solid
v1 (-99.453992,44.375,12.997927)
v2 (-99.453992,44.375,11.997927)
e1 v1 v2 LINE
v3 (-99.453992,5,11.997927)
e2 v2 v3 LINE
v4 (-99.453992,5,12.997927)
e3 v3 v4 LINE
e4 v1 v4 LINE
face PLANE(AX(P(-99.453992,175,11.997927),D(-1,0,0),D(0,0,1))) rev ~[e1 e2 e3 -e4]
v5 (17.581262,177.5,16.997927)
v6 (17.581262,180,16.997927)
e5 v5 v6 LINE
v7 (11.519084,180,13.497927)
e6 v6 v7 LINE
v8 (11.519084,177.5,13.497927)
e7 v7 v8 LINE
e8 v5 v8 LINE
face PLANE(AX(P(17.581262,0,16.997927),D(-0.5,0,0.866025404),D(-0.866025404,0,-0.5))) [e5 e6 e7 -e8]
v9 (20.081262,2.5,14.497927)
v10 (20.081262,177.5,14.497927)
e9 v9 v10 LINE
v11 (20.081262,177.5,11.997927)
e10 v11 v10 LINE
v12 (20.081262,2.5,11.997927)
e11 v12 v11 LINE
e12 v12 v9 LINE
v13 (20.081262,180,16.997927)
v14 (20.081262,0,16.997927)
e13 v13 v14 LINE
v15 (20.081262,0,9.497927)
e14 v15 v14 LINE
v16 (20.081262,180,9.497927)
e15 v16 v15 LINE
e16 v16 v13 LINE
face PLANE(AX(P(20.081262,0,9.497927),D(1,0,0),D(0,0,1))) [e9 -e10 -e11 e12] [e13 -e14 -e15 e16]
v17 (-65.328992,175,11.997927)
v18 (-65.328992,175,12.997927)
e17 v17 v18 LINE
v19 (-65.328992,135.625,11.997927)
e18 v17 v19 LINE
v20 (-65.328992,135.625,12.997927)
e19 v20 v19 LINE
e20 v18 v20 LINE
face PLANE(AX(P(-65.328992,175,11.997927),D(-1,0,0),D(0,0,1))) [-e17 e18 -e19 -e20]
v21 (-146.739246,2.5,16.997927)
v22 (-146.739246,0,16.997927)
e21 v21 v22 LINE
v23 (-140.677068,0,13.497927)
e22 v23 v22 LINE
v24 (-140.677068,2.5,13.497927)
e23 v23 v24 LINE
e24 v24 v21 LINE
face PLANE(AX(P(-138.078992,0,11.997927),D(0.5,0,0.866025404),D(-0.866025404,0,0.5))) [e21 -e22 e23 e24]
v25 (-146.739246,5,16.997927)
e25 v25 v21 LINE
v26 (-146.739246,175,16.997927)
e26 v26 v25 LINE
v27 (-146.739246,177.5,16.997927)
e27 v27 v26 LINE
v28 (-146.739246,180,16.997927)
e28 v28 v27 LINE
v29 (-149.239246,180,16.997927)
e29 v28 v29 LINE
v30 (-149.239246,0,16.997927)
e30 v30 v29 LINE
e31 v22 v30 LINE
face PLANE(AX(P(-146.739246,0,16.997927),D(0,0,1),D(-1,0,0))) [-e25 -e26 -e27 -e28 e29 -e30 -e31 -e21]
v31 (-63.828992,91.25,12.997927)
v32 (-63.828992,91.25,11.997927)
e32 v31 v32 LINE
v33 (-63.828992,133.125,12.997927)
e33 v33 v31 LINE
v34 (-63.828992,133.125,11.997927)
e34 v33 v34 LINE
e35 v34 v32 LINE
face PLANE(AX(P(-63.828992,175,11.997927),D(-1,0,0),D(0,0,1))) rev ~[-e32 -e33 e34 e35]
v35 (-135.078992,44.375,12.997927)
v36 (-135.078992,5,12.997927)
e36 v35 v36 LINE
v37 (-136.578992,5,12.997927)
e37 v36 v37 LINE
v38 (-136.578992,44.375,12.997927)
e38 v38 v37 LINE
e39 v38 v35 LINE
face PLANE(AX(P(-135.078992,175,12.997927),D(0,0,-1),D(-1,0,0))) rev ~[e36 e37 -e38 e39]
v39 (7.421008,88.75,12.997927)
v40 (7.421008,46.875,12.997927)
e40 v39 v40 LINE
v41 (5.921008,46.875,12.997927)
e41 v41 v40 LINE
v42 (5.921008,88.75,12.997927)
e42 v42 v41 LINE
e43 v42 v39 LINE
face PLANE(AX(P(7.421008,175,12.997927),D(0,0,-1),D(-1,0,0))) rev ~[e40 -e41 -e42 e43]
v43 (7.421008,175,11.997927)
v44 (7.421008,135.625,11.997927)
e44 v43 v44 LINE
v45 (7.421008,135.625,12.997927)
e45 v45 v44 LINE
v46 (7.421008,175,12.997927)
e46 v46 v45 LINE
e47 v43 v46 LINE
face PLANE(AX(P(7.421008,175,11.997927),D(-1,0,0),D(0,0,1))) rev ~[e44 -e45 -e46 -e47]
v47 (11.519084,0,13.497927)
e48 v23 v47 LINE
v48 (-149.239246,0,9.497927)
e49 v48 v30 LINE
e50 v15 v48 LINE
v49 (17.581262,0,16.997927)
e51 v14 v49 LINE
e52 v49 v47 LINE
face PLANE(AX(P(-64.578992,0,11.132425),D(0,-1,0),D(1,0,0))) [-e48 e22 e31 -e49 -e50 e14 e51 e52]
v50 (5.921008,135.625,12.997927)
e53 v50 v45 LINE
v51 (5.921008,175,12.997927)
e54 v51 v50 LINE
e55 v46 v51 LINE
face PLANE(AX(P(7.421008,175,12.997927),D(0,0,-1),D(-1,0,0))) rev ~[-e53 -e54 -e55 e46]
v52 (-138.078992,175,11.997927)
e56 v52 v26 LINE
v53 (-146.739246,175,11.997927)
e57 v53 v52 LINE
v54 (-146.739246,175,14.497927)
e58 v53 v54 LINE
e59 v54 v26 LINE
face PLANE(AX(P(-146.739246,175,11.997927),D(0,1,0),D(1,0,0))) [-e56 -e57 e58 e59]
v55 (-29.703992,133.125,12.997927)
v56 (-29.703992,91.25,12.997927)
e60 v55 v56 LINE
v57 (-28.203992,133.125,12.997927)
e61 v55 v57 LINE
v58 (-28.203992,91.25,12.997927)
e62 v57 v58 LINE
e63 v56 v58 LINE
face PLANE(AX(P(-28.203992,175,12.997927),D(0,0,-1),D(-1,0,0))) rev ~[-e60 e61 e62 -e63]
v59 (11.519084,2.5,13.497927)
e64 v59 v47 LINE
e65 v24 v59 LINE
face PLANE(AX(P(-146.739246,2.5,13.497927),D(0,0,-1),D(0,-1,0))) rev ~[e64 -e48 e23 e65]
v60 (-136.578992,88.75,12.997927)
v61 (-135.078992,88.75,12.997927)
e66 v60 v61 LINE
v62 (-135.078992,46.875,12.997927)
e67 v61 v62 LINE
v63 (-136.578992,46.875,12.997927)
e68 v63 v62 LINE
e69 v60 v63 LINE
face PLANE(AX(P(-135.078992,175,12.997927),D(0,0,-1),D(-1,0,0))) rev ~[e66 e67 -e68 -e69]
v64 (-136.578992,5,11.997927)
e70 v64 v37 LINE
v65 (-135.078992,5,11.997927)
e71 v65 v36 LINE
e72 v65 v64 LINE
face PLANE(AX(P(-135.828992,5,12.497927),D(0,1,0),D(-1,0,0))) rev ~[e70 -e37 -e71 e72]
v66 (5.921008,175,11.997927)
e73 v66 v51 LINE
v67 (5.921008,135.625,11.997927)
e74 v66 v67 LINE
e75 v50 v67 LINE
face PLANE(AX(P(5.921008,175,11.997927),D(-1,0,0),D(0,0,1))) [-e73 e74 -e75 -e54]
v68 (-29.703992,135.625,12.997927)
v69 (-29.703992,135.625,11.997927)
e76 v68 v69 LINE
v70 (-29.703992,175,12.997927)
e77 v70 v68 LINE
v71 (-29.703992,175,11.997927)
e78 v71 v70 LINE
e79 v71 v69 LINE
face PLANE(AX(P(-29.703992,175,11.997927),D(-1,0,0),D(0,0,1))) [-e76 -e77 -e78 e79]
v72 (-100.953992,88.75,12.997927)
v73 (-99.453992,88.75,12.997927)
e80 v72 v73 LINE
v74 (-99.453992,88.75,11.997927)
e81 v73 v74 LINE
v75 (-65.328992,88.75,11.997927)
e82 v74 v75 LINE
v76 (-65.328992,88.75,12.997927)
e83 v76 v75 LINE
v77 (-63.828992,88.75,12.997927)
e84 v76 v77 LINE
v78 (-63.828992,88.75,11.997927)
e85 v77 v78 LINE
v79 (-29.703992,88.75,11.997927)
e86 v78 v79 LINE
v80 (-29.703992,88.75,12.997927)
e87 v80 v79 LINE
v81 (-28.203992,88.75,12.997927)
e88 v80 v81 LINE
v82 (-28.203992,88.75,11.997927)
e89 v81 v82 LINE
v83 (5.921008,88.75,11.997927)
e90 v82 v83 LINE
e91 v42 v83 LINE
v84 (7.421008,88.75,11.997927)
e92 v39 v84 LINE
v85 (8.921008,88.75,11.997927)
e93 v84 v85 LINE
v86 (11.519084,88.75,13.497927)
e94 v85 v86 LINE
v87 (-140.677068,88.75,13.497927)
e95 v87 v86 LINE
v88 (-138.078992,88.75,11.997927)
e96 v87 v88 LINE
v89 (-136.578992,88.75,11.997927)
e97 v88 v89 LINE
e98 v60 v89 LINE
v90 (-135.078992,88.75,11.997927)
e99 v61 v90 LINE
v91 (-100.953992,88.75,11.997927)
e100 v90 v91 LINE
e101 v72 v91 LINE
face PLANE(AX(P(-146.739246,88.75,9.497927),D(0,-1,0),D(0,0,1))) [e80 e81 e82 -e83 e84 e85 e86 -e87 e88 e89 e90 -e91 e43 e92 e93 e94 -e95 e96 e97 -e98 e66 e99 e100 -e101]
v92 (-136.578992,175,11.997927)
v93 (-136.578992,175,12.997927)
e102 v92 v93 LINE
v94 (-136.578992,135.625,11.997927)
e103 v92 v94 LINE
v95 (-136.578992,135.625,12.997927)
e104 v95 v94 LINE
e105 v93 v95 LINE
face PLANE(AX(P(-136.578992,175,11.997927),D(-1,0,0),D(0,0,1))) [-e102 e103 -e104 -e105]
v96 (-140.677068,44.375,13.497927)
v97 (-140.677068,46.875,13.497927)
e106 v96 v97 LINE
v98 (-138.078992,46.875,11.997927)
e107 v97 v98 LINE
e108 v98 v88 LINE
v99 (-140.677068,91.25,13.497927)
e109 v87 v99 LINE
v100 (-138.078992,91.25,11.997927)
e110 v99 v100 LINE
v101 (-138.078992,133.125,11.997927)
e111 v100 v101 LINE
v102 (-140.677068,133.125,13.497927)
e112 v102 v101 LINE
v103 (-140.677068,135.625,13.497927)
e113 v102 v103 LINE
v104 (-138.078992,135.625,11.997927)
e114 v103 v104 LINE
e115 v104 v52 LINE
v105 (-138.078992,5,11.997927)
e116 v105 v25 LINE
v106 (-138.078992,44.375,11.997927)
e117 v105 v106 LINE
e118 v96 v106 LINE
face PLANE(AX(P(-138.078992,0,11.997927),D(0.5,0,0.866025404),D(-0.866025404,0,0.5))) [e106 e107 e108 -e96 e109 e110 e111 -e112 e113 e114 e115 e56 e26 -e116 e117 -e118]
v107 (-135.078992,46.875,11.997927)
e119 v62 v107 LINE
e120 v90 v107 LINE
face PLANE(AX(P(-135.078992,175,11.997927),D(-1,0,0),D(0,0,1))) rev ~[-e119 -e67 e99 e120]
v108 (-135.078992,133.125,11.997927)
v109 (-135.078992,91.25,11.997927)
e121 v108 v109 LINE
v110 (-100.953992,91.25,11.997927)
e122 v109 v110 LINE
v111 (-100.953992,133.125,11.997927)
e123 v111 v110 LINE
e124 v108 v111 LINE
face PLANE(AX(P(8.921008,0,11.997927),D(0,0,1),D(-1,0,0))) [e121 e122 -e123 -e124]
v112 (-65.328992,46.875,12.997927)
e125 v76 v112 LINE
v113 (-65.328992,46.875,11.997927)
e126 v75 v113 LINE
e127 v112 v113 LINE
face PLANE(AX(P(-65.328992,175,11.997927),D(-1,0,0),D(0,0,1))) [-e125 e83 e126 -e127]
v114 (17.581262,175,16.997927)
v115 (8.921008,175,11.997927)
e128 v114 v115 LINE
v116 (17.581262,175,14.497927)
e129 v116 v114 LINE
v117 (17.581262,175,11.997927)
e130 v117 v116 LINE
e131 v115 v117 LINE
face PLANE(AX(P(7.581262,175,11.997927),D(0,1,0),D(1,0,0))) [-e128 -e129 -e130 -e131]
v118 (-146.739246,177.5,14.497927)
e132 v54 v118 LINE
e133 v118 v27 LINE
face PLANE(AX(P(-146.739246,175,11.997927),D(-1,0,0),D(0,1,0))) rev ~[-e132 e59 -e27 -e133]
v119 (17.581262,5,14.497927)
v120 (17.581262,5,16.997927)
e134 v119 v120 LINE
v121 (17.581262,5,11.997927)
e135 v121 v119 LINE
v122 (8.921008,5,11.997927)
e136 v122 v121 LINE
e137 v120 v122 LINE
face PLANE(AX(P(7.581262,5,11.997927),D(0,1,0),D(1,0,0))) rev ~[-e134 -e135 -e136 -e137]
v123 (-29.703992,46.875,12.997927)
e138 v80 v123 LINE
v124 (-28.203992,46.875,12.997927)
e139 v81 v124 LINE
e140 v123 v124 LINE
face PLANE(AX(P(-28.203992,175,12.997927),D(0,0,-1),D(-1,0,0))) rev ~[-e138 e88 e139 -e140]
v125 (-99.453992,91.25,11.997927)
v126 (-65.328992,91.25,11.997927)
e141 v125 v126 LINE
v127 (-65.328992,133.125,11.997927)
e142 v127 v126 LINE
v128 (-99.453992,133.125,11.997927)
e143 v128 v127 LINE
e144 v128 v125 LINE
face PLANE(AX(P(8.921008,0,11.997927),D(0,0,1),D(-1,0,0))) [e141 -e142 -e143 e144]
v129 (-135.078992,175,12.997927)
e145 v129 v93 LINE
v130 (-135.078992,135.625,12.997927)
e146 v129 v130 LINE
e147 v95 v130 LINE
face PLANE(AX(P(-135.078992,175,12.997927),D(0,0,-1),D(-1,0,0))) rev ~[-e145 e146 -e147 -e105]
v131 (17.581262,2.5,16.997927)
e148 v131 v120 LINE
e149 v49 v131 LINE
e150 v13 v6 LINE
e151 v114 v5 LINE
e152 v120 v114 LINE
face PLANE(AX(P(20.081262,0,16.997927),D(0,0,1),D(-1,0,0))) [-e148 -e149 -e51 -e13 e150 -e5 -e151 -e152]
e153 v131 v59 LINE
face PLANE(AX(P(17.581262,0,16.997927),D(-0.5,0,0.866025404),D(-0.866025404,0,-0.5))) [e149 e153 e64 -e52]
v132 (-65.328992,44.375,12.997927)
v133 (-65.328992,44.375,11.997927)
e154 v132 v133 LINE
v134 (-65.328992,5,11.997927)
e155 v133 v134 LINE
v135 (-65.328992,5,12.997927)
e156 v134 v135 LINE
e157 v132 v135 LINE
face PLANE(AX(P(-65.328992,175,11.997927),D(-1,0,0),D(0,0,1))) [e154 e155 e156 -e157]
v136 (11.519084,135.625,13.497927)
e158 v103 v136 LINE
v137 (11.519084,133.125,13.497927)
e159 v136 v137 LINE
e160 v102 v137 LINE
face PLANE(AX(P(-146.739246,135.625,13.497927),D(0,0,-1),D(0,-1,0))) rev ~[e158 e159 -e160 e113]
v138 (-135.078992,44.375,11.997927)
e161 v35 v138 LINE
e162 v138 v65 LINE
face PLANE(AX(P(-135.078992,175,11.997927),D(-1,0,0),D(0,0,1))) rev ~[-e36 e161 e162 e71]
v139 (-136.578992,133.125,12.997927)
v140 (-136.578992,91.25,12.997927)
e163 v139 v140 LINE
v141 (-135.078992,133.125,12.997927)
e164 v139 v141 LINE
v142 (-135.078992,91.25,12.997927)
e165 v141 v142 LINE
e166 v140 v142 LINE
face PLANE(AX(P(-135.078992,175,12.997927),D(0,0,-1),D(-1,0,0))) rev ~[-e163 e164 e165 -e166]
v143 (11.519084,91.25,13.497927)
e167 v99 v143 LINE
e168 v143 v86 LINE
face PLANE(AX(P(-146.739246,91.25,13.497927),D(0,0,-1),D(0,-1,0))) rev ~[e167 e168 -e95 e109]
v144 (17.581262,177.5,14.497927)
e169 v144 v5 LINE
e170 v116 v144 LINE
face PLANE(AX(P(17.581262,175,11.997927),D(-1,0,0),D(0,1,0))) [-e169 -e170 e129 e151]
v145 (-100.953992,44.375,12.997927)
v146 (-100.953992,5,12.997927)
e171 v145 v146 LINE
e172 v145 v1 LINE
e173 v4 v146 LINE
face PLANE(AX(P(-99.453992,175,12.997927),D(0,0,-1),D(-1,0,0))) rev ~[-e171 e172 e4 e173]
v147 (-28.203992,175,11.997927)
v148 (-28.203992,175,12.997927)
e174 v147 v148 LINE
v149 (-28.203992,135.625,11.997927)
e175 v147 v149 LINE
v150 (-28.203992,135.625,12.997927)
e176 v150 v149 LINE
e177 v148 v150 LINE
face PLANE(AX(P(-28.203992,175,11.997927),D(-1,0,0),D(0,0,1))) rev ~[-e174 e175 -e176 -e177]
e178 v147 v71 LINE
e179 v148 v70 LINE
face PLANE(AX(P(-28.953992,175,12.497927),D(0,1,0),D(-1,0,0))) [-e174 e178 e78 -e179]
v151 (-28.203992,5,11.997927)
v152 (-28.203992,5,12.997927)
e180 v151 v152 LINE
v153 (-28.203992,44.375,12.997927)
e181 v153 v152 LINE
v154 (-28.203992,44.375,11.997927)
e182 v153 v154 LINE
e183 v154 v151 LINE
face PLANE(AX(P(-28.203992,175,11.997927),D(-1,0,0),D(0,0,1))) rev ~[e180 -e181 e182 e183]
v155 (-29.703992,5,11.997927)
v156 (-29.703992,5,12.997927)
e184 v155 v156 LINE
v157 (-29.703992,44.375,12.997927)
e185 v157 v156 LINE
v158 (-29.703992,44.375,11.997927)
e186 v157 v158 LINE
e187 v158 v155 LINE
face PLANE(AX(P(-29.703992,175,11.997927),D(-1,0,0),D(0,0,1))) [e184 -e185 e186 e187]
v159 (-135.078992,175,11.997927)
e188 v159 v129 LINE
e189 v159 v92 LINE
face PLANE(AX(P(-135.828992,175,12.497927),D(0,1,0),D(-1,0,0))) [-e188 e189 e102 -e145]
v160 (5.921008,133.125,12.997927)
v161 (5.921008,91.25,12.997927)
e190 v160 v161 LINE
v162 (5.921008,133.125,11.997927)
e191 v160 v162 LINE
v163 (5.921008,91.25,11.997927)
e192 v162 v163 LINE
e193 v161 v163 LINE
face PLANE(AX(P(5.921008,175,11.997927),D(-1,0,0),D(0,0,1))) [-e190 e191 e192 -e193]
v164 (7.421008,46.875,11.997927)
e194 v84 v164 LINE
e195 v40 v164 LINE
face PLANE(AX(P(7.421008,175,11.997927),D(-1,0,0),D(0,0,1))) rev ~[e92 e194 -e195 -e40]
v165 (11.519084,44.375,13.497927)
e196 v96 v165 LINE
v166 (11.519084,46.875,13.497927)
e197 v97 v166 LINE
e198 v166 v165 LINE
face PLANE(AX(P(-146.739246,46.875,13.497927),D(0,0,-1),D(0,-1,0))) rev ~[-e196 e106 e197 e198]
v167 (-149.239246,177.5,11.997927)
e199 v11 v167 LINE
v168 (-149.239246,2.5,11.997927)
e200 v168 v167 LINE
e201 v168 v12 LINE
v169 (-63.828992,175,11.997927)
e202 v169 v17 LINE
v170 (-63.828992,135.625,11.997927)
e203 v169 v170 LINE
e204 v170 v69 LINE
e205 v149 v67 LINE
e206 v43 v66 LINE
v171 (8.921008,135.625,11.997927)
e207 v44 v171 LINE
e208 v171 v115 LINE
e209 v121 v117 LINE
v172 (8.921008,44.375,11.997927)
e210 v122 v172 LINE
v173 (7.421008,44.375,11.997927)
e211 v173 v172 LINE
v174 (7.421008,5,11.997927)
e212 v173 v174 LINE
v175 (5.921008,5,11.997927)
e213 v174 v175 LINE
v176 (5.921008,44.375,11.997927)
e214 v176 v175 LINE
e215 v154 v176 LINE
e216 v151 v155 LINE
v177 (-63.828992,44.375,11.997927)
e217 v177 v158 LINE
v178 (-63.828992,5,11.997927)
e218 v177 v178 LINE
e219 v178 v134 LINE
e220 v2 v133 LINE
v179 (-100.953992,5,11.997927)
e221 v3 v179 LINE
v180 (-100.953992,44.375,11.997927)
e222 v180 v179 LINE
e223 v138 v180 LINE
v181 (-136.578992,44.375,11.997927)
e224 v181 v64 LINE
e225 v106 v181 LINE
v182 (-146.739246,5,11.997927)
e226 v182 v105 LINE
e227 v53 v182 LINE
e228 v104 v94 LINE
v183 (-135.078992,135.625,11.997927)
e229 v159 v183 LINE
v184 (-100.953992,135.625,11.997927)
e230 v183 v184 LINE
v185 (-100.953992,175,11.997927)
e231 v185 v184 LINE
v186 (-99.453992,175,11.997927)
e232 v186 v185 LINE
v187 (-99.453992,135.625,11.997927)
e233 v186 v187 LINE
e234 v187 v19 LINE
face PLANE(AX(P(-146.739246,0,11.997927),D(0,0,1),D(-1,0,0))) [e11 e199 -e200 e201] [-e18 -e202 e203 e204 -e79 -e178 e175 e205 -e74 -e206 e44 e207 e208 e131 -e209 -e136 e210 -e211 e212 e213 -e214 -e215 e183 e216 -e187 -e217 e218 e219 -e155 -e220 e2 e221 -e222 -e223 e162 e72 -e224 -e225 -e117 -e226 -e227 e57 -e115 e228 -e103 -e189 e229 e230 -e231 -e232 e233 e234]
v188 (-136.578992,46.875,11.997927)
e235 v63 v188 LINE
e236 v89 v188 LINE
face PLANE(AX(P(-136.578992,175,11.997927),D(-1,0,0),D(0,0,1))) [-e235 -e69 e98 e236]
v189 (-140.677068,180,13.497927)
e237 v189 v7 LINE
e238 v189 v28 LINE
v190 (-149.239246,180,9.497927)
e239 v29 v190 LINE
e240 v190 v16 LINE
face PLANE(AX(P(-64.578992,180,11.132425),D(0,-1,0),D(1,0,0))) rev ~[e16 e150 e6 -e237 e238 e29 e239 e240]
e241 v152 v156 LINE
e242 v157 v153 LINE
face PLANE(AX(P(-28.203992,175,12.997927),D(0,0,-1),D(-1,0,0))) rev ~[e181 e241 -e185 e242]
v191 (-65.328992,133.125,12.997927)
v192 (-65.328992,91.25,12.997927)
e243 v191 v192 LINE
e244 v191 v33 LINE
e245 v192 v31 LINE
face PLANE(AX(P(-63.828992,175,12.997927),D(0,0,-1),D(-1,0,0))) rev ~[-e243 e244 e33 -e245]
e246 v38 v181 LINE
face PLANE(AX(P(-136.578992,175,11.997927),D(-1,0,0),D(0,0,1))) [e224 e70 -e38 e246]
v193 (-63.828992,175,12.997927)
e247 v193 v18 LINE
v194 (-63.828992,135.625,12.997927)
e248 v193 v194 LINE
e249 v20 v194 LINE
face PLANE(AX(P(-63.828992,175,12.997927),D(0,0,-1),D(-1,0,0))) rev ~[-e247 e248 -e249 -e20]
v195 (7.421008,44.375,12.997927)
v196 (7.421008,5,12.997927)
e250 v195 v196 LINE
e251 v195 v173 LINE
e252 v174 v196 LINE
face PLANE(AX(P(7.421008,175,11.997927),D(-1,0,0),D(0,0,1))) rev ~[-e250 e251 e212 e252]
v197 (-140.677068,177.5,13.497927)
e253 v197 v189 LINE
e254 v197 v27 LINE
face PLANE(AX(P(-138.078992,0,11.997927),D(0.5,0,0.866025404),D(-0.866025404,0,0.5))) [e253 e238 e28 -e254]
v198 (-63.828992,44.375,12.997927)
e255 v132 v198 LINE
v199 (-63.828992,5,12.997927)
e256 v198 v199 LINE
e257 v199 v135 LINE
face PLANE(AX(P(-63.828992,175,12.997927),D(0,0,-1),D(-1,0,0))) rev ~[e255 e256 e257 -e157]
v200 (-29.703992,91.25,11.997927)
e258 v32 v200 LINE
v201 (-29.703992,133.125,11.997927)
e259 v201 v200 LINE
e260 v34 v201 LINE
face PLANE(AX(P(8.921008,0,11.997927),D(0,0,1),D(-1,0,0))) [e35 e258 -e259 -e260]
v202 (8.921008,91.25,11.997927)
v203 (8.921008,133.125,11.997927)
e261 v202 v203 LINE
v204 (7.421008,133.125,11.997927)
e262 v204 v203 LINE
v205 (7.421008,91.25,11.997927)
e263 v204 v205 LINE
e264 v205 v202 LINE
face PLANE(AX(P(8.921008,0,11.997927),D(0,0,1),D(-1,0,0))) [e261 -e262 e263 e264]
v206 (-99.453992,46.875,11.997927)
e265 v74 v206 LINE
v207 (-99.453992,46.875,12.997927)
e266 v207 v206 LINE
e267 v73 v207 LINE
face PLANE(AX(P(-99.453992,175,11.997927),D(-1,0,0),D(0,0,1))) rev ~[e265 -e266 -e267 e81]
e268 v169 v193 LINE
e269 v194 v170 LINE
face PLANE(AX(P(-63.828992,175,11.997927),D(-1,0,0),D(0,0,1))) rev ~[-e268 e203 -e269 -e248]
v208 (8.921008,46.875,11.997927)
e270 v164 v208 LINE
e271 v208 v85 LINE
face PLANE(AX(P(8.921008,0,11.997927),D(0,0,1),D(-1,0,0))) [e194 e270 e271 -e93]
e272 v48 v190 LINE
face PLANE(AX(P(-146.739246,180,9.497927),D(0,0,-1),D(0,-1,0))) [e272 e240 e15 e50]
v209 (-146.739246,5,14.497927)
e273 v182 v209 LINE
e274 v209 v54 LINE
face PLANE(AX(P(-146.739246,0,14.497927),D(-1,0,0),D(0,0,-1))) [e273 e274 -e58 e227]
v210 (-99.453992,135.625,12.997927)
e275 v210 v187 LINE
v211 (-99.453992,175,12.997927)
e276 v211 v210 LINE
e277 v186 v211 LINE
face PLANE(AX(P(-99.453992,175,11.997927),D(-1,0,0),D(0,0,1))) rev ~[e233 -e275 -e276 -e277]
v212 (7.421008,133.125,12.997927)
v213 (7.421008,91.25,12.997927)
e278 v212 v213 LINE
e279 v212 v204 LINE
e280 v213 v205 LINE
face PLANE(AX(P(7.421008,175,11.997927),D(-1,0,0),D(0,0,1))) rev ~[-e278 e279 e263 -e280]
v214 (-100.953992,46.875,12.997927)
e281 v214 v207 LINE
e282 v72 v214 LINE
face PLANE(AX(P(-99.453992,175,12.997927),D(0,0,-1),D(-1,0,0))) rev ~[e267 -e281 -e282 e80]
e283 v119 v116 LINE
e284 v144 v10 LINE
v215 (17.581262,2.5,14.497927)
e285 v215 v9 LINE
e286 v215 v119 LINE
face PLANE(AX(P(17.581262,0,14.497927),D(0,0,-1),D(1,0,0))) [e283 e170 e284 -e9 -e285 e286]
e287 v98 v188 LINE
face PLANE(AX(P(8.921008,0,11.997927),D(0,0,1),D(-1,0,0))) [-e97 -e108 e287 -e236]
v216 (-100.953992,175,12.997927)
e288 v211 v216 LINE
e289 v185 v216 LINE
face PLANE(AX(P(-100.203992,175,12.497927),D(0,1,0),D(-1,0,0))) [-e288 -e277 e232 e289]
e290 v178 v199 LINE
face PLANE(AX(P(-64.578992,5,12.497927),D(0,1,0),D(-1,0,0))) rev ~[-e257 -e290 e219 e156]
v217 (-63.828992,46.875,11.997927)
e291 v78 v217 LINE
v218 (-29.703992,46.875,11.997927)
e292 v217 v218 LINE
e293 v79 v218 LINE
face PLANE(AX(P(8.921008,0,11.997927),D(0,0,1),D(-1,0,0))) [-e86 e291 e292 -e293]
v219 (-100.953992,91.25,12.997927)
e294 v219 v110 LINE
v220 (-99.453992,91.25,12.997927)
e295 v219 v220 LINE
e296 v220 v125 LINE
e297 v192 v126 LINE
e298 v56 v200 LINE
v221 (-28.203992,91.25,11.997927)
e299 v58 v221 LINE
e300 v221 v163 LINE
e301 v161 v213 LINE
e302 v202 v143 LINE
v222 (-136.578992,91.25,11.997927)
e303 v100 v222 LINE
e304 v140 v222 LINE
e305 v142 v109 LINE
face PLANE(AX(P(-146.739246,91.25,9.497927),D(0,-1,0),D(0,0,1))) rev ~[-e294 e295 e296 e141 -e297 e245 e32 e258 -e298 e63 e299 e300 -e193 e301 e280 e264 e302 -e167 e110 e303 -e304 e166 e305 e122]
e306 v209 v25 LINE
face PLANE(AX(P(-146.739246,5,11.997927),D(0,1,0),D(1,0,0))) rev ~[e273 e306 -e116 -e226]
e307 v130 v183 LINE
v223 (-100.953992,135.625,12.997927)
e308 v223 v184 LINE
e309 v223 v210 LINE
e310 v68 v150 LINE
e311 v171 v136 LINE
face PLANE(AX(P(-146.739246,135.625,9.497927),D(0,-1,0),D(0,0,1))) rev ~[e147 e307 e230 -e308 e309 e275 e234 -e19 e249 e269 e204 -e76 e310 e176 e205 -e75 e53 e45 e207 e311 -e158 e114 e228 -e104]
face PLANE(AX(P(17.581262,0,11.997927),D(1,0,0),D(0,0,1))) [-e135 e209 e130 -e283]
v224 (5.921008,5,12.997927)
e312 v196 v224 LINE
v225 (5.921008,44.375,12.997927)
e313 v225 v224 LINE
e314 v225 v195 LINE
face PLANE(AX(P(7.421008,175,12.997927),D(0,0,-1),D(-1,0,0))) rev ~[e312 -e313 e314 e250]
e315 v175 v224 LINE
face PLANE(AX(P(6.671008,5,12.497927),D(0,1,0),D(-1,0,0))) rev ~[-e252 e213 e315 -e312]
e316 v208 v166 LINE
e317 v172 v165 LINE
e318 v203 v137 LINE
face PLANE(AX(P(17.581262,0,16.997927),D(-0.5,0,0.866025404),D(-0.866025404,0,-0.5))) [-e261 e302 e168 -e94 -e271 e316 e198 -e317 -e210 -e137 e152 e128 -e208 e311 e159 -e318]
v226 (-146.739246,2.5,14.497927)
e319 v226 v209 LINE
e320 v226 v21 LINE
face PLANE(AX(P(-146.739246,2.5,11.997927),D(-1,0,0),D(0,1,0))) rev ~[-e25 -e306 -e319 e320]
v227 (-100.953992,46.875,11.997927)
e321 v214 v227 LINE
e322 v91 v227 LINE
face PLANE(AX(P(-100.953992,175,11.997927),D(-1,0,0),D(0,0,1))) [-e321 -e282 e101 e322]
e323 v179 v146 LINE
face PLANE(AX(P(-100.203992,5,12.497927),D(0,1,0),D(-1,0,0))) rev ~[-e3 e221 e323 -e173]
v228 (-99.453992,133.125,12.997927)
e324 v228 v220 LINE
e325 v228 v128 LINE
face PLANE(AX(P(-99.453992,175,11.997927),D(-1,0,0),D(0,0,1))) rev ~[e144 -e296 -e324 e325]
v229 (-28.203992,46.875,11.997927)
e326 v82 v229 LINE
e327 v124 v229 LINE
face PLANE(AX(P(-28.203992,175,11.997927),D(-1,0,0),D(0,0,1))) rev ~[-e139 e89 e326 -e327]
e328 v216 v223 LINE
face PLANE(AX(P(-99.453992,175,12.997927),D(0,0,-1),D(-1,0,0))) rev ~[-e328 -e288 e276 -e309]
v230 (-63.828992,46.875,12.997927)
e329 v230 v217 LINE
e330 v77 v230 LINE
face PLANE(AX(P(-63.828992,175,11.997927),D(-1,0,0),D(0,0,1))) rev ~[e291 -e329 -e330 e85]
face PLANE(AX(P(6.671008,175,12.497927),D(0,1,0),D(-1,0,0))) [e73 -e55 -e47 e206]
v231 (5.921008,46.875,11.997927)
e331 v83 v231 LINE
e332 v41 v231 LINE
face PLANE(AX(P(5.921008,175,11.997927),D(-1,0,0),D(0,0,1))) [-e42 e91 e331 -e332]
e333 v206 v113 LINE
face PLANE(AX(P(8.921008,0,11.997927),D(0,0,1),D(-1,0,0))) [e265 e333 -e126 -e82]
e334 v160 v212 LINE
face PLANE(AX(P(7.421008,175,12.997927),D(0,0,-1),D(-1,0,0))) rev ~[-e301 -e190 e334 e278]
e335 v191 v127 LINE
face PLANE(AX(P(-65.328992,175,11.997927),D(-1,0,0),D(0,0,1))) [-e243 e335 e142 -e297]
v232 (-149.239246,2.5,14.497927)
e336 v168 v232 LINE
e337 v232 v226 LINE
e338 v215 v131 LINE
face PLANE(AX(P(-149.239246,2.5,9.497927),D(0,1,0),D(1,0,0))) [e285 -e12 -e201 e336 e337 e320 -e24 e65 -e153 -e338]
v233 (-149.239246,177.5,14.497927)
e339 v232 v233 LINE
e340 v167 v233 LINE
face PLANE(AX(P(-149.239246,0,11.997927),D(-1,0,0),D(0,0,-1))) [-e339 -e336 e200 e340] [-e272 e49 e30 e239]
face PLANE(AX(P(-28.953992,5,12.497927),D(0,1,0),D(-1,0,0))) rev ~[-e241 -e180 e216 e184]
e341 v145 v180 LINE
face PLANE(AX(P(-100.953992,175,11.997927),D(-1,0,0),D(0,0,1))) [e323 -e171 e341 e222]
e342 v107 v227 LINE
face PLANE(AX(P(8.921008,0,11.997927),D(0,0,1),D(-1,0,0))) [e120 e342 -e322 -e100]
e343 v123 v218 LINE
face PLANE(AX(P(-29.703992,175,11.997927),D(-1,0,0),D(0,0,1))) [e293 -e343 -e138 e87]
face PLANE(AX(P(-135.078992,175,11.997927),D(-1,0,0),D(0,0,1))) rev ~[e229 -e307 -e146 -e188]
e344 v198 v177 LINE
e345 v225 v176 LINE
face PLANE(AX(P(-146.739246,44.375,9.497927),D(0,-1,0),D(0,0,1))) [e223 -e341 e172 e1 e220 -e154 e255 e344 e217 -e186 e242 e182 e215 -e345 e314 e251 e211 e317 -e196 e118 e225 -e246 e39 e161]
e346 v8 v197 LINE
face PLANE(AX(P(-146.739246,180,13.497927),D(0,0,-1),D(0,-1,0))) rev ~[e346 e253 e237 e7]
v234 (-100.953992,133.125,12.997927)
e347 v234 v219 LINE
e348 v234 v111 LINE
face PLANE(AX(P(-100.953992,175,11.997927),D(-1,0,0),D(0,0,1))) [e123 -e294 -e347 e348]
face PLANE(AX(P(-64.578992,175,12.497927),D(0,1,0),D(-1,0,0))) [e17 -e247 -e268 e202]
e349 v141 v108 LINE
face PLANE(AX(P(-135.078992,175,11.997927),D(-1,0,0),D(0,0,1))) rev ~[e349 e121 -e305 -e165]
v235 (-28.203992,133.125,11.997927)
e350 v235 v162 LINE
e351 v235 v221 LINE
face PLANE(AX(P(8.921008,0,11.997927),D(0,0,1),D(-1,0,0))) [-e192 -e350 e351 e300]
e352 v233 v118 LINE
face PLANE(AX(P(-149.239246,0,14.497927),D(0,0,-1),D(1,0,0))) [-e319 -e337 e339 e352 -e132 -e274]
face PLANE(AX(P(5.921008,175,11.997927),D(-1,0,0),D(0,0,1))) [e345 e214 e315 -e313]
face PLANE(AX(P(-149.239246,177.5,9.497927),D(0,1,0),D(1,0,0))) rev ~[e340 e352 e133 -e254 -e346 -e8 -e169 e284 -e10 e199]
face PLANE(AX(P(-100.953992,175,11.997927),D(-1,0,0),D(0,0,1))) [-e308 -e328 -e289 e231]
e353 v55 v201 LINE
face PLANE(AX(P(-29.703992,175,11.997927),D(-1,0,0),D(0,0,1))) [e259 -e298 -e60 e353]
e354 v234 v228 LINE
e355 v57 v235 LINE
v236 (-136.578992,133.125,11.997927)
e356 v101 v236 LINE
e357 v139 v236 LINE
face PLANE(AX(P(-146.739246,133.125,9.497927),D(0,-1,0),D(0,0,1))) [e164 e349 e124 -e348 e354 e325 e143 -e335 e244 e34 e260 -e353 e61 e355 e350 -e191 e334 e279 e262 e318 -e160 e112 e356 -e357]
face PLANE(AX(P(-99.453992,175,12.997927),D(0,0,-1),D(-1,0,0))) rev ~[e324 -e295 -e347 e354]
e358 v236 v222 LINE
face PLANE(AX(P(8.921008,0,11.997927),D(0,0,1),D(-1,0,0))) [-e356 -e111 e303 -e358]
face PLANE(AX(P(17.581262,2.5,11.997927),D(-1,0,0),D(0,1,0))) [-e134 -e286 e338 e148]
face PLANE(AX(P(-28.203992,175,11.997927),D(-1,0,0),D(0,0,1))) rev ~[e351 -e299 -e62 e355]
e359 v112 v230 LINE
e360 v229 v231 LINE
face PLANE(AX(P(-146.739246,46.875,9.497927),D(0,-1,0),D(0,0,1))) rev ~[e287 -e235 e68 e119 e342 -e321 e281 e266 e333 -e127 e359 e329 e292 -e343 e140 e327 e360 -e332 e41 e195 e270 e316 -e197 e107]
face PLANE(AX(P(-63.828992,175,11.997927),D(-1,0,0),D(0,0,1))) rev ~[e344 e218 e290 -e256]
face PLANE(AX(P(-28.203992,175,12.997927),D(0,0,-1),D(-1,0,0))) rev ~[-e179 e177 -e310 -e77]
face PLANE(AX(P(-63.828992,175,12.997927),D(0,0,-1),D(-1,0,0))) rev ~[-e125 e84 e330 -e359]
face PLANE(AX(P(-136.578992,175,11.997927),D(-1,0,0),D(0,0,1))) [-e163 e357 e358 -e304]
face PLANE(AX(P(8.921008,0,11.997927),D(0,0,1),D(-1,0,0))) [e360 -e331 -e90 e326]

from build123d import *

# Parameters (mm, degrees)
F1_DEPTH  = 180
F4_W      = 2.5
F4_H      = 4
F5_DEPTH  = 164
F6_W      = 2.5
F6_H      = 2.5
F7_DEPTH  = 7.5
F8_W      = 10
F8_H      = 2.5
F9_DEPTH  = 25
F10_W     = 1.5
F10_H     = 1
F11_DEPTH = 170


with BuildPart() as f1:
    # F0 (on Front) → F1 (new body)
    with BuildSketch(Plane.XZ):
        Polygon((-149.2392462472, 9.4979269803), (-64.5789922093, 9.4979269803), (20.0812618285, 9.4979269803), (20.0812618285, 11.9979269803), (17.5812618285, 11.9979269803), (17.5812618285, 14.4979269803), (20.0812618285, 14.4979269803), (20.0812618285, 16.9979269803), (17.5812618285, 16.9979269803), (8.9210077907, 11.9979269803), (-64.5789922093, 11.9979269803), (-138.0789922093, 11.9979269803), (-146.7392462472, 16.9979269803), (-149.2392462472, 16.9979269803), (-149.2392462472, 14.4979269803), (-146.7392462472, 14.4979269803), (-146.7392462472, 11.9979269803), (-149.2392462472, 11.9979269803), align=None)
    extrude(amount=-F1_DEPTH)

    # F4 (on offset) → F5 (join)
    with BuildSketch(Plane(origin=(-146.7392462472, 0, 0), x_dir=(0, -1, 0), z_dir=(-1, 0, 0))):
        with Locations((-178.75, 11.4979269803)):
            Rectangle(F4_W, F4_H)
        with Locations((-134.375, 11.4979269803)):
            Rectangle(F4_W, F4_H)
        with Locations((-90, 11.4979269803)):
            Rectangle(F4_W, F4_H)
        with Locations((-45.625, 11.4979269803)):
            Rectangle(F4_W, F4_H)
        with Locations((-1.25, 11.4979269803)):
            Rectangle(F4_W, F4_H)
    extrude(amount=-F5_DEPTH)

    # F6 (on face) → F7 (join)
    with BuildSketch(Plane(origin=(0, 0, 9.4979269803), x_dir=(1, 0, 0), z_dir=(0, 0, -1))):
        with Locations((-147.9892462472, -1.25)):
            Rectangle(F6_W, F6_H)
        with Locations((18.8312618285, -1.25)):
            Rectangle(F6_W, F6_H)
        with Locations((18.8312618285, -178.75)):
            Rectangle(F6_W, F6_H)
        with Locations((-147.9892462472, -178.75)):
            Rectangle(F6_W, F6_H)
    extrude(amount=-F7_DEPTH)

    # F8 (on face) → F9 (cut)
    with BuildSketch(Plane.XY.offset(11.9979269803)):
        with Locations((-141.7392462472, 3.75)):
            Rectangle(F8_W, F8_H)
        with Locations((-141.7392462472, 176.25)):
            Rectangle(F8_W, F8_H)
        with Locations((12.5812618285, 176.25)):
            Rectangle(F8_W, F8_H)
        with Locations((12.5812618285, 3.75)):
            Rectangle(F8_W, F8_H)
    extrude(amount=F9_DEPTH, mode=Mode.SUBTRACT)

    # F10 (on face) → F11 (join)
    with BuildSketch(Plane(origin=(0, 175, 0), x_dir=(-1, 0, 0), z_dir=(0, 1, 0))):
        with Locations((135.8289922093, 12.4979269803)):
            Rectangle(F10_W, F10_H)
        with Locations((100.2039922093, 12.4979269803)):
            Rectangle(F10_W, F10_H)
        with Locations((64.5789922093, 12.4979269803)):
            Rectangle(F10_W, F10_H)
        with Locations((28.9539922093, 12.4979269803)):
            Rectangle(F10_W, F10_H)
        with Locations((-6.6710077907, 12.4979269803)):
            Rectangle(F10_W, F10_H)
    extrude(amount=-F11_DEPTH)


solid = f1.part
